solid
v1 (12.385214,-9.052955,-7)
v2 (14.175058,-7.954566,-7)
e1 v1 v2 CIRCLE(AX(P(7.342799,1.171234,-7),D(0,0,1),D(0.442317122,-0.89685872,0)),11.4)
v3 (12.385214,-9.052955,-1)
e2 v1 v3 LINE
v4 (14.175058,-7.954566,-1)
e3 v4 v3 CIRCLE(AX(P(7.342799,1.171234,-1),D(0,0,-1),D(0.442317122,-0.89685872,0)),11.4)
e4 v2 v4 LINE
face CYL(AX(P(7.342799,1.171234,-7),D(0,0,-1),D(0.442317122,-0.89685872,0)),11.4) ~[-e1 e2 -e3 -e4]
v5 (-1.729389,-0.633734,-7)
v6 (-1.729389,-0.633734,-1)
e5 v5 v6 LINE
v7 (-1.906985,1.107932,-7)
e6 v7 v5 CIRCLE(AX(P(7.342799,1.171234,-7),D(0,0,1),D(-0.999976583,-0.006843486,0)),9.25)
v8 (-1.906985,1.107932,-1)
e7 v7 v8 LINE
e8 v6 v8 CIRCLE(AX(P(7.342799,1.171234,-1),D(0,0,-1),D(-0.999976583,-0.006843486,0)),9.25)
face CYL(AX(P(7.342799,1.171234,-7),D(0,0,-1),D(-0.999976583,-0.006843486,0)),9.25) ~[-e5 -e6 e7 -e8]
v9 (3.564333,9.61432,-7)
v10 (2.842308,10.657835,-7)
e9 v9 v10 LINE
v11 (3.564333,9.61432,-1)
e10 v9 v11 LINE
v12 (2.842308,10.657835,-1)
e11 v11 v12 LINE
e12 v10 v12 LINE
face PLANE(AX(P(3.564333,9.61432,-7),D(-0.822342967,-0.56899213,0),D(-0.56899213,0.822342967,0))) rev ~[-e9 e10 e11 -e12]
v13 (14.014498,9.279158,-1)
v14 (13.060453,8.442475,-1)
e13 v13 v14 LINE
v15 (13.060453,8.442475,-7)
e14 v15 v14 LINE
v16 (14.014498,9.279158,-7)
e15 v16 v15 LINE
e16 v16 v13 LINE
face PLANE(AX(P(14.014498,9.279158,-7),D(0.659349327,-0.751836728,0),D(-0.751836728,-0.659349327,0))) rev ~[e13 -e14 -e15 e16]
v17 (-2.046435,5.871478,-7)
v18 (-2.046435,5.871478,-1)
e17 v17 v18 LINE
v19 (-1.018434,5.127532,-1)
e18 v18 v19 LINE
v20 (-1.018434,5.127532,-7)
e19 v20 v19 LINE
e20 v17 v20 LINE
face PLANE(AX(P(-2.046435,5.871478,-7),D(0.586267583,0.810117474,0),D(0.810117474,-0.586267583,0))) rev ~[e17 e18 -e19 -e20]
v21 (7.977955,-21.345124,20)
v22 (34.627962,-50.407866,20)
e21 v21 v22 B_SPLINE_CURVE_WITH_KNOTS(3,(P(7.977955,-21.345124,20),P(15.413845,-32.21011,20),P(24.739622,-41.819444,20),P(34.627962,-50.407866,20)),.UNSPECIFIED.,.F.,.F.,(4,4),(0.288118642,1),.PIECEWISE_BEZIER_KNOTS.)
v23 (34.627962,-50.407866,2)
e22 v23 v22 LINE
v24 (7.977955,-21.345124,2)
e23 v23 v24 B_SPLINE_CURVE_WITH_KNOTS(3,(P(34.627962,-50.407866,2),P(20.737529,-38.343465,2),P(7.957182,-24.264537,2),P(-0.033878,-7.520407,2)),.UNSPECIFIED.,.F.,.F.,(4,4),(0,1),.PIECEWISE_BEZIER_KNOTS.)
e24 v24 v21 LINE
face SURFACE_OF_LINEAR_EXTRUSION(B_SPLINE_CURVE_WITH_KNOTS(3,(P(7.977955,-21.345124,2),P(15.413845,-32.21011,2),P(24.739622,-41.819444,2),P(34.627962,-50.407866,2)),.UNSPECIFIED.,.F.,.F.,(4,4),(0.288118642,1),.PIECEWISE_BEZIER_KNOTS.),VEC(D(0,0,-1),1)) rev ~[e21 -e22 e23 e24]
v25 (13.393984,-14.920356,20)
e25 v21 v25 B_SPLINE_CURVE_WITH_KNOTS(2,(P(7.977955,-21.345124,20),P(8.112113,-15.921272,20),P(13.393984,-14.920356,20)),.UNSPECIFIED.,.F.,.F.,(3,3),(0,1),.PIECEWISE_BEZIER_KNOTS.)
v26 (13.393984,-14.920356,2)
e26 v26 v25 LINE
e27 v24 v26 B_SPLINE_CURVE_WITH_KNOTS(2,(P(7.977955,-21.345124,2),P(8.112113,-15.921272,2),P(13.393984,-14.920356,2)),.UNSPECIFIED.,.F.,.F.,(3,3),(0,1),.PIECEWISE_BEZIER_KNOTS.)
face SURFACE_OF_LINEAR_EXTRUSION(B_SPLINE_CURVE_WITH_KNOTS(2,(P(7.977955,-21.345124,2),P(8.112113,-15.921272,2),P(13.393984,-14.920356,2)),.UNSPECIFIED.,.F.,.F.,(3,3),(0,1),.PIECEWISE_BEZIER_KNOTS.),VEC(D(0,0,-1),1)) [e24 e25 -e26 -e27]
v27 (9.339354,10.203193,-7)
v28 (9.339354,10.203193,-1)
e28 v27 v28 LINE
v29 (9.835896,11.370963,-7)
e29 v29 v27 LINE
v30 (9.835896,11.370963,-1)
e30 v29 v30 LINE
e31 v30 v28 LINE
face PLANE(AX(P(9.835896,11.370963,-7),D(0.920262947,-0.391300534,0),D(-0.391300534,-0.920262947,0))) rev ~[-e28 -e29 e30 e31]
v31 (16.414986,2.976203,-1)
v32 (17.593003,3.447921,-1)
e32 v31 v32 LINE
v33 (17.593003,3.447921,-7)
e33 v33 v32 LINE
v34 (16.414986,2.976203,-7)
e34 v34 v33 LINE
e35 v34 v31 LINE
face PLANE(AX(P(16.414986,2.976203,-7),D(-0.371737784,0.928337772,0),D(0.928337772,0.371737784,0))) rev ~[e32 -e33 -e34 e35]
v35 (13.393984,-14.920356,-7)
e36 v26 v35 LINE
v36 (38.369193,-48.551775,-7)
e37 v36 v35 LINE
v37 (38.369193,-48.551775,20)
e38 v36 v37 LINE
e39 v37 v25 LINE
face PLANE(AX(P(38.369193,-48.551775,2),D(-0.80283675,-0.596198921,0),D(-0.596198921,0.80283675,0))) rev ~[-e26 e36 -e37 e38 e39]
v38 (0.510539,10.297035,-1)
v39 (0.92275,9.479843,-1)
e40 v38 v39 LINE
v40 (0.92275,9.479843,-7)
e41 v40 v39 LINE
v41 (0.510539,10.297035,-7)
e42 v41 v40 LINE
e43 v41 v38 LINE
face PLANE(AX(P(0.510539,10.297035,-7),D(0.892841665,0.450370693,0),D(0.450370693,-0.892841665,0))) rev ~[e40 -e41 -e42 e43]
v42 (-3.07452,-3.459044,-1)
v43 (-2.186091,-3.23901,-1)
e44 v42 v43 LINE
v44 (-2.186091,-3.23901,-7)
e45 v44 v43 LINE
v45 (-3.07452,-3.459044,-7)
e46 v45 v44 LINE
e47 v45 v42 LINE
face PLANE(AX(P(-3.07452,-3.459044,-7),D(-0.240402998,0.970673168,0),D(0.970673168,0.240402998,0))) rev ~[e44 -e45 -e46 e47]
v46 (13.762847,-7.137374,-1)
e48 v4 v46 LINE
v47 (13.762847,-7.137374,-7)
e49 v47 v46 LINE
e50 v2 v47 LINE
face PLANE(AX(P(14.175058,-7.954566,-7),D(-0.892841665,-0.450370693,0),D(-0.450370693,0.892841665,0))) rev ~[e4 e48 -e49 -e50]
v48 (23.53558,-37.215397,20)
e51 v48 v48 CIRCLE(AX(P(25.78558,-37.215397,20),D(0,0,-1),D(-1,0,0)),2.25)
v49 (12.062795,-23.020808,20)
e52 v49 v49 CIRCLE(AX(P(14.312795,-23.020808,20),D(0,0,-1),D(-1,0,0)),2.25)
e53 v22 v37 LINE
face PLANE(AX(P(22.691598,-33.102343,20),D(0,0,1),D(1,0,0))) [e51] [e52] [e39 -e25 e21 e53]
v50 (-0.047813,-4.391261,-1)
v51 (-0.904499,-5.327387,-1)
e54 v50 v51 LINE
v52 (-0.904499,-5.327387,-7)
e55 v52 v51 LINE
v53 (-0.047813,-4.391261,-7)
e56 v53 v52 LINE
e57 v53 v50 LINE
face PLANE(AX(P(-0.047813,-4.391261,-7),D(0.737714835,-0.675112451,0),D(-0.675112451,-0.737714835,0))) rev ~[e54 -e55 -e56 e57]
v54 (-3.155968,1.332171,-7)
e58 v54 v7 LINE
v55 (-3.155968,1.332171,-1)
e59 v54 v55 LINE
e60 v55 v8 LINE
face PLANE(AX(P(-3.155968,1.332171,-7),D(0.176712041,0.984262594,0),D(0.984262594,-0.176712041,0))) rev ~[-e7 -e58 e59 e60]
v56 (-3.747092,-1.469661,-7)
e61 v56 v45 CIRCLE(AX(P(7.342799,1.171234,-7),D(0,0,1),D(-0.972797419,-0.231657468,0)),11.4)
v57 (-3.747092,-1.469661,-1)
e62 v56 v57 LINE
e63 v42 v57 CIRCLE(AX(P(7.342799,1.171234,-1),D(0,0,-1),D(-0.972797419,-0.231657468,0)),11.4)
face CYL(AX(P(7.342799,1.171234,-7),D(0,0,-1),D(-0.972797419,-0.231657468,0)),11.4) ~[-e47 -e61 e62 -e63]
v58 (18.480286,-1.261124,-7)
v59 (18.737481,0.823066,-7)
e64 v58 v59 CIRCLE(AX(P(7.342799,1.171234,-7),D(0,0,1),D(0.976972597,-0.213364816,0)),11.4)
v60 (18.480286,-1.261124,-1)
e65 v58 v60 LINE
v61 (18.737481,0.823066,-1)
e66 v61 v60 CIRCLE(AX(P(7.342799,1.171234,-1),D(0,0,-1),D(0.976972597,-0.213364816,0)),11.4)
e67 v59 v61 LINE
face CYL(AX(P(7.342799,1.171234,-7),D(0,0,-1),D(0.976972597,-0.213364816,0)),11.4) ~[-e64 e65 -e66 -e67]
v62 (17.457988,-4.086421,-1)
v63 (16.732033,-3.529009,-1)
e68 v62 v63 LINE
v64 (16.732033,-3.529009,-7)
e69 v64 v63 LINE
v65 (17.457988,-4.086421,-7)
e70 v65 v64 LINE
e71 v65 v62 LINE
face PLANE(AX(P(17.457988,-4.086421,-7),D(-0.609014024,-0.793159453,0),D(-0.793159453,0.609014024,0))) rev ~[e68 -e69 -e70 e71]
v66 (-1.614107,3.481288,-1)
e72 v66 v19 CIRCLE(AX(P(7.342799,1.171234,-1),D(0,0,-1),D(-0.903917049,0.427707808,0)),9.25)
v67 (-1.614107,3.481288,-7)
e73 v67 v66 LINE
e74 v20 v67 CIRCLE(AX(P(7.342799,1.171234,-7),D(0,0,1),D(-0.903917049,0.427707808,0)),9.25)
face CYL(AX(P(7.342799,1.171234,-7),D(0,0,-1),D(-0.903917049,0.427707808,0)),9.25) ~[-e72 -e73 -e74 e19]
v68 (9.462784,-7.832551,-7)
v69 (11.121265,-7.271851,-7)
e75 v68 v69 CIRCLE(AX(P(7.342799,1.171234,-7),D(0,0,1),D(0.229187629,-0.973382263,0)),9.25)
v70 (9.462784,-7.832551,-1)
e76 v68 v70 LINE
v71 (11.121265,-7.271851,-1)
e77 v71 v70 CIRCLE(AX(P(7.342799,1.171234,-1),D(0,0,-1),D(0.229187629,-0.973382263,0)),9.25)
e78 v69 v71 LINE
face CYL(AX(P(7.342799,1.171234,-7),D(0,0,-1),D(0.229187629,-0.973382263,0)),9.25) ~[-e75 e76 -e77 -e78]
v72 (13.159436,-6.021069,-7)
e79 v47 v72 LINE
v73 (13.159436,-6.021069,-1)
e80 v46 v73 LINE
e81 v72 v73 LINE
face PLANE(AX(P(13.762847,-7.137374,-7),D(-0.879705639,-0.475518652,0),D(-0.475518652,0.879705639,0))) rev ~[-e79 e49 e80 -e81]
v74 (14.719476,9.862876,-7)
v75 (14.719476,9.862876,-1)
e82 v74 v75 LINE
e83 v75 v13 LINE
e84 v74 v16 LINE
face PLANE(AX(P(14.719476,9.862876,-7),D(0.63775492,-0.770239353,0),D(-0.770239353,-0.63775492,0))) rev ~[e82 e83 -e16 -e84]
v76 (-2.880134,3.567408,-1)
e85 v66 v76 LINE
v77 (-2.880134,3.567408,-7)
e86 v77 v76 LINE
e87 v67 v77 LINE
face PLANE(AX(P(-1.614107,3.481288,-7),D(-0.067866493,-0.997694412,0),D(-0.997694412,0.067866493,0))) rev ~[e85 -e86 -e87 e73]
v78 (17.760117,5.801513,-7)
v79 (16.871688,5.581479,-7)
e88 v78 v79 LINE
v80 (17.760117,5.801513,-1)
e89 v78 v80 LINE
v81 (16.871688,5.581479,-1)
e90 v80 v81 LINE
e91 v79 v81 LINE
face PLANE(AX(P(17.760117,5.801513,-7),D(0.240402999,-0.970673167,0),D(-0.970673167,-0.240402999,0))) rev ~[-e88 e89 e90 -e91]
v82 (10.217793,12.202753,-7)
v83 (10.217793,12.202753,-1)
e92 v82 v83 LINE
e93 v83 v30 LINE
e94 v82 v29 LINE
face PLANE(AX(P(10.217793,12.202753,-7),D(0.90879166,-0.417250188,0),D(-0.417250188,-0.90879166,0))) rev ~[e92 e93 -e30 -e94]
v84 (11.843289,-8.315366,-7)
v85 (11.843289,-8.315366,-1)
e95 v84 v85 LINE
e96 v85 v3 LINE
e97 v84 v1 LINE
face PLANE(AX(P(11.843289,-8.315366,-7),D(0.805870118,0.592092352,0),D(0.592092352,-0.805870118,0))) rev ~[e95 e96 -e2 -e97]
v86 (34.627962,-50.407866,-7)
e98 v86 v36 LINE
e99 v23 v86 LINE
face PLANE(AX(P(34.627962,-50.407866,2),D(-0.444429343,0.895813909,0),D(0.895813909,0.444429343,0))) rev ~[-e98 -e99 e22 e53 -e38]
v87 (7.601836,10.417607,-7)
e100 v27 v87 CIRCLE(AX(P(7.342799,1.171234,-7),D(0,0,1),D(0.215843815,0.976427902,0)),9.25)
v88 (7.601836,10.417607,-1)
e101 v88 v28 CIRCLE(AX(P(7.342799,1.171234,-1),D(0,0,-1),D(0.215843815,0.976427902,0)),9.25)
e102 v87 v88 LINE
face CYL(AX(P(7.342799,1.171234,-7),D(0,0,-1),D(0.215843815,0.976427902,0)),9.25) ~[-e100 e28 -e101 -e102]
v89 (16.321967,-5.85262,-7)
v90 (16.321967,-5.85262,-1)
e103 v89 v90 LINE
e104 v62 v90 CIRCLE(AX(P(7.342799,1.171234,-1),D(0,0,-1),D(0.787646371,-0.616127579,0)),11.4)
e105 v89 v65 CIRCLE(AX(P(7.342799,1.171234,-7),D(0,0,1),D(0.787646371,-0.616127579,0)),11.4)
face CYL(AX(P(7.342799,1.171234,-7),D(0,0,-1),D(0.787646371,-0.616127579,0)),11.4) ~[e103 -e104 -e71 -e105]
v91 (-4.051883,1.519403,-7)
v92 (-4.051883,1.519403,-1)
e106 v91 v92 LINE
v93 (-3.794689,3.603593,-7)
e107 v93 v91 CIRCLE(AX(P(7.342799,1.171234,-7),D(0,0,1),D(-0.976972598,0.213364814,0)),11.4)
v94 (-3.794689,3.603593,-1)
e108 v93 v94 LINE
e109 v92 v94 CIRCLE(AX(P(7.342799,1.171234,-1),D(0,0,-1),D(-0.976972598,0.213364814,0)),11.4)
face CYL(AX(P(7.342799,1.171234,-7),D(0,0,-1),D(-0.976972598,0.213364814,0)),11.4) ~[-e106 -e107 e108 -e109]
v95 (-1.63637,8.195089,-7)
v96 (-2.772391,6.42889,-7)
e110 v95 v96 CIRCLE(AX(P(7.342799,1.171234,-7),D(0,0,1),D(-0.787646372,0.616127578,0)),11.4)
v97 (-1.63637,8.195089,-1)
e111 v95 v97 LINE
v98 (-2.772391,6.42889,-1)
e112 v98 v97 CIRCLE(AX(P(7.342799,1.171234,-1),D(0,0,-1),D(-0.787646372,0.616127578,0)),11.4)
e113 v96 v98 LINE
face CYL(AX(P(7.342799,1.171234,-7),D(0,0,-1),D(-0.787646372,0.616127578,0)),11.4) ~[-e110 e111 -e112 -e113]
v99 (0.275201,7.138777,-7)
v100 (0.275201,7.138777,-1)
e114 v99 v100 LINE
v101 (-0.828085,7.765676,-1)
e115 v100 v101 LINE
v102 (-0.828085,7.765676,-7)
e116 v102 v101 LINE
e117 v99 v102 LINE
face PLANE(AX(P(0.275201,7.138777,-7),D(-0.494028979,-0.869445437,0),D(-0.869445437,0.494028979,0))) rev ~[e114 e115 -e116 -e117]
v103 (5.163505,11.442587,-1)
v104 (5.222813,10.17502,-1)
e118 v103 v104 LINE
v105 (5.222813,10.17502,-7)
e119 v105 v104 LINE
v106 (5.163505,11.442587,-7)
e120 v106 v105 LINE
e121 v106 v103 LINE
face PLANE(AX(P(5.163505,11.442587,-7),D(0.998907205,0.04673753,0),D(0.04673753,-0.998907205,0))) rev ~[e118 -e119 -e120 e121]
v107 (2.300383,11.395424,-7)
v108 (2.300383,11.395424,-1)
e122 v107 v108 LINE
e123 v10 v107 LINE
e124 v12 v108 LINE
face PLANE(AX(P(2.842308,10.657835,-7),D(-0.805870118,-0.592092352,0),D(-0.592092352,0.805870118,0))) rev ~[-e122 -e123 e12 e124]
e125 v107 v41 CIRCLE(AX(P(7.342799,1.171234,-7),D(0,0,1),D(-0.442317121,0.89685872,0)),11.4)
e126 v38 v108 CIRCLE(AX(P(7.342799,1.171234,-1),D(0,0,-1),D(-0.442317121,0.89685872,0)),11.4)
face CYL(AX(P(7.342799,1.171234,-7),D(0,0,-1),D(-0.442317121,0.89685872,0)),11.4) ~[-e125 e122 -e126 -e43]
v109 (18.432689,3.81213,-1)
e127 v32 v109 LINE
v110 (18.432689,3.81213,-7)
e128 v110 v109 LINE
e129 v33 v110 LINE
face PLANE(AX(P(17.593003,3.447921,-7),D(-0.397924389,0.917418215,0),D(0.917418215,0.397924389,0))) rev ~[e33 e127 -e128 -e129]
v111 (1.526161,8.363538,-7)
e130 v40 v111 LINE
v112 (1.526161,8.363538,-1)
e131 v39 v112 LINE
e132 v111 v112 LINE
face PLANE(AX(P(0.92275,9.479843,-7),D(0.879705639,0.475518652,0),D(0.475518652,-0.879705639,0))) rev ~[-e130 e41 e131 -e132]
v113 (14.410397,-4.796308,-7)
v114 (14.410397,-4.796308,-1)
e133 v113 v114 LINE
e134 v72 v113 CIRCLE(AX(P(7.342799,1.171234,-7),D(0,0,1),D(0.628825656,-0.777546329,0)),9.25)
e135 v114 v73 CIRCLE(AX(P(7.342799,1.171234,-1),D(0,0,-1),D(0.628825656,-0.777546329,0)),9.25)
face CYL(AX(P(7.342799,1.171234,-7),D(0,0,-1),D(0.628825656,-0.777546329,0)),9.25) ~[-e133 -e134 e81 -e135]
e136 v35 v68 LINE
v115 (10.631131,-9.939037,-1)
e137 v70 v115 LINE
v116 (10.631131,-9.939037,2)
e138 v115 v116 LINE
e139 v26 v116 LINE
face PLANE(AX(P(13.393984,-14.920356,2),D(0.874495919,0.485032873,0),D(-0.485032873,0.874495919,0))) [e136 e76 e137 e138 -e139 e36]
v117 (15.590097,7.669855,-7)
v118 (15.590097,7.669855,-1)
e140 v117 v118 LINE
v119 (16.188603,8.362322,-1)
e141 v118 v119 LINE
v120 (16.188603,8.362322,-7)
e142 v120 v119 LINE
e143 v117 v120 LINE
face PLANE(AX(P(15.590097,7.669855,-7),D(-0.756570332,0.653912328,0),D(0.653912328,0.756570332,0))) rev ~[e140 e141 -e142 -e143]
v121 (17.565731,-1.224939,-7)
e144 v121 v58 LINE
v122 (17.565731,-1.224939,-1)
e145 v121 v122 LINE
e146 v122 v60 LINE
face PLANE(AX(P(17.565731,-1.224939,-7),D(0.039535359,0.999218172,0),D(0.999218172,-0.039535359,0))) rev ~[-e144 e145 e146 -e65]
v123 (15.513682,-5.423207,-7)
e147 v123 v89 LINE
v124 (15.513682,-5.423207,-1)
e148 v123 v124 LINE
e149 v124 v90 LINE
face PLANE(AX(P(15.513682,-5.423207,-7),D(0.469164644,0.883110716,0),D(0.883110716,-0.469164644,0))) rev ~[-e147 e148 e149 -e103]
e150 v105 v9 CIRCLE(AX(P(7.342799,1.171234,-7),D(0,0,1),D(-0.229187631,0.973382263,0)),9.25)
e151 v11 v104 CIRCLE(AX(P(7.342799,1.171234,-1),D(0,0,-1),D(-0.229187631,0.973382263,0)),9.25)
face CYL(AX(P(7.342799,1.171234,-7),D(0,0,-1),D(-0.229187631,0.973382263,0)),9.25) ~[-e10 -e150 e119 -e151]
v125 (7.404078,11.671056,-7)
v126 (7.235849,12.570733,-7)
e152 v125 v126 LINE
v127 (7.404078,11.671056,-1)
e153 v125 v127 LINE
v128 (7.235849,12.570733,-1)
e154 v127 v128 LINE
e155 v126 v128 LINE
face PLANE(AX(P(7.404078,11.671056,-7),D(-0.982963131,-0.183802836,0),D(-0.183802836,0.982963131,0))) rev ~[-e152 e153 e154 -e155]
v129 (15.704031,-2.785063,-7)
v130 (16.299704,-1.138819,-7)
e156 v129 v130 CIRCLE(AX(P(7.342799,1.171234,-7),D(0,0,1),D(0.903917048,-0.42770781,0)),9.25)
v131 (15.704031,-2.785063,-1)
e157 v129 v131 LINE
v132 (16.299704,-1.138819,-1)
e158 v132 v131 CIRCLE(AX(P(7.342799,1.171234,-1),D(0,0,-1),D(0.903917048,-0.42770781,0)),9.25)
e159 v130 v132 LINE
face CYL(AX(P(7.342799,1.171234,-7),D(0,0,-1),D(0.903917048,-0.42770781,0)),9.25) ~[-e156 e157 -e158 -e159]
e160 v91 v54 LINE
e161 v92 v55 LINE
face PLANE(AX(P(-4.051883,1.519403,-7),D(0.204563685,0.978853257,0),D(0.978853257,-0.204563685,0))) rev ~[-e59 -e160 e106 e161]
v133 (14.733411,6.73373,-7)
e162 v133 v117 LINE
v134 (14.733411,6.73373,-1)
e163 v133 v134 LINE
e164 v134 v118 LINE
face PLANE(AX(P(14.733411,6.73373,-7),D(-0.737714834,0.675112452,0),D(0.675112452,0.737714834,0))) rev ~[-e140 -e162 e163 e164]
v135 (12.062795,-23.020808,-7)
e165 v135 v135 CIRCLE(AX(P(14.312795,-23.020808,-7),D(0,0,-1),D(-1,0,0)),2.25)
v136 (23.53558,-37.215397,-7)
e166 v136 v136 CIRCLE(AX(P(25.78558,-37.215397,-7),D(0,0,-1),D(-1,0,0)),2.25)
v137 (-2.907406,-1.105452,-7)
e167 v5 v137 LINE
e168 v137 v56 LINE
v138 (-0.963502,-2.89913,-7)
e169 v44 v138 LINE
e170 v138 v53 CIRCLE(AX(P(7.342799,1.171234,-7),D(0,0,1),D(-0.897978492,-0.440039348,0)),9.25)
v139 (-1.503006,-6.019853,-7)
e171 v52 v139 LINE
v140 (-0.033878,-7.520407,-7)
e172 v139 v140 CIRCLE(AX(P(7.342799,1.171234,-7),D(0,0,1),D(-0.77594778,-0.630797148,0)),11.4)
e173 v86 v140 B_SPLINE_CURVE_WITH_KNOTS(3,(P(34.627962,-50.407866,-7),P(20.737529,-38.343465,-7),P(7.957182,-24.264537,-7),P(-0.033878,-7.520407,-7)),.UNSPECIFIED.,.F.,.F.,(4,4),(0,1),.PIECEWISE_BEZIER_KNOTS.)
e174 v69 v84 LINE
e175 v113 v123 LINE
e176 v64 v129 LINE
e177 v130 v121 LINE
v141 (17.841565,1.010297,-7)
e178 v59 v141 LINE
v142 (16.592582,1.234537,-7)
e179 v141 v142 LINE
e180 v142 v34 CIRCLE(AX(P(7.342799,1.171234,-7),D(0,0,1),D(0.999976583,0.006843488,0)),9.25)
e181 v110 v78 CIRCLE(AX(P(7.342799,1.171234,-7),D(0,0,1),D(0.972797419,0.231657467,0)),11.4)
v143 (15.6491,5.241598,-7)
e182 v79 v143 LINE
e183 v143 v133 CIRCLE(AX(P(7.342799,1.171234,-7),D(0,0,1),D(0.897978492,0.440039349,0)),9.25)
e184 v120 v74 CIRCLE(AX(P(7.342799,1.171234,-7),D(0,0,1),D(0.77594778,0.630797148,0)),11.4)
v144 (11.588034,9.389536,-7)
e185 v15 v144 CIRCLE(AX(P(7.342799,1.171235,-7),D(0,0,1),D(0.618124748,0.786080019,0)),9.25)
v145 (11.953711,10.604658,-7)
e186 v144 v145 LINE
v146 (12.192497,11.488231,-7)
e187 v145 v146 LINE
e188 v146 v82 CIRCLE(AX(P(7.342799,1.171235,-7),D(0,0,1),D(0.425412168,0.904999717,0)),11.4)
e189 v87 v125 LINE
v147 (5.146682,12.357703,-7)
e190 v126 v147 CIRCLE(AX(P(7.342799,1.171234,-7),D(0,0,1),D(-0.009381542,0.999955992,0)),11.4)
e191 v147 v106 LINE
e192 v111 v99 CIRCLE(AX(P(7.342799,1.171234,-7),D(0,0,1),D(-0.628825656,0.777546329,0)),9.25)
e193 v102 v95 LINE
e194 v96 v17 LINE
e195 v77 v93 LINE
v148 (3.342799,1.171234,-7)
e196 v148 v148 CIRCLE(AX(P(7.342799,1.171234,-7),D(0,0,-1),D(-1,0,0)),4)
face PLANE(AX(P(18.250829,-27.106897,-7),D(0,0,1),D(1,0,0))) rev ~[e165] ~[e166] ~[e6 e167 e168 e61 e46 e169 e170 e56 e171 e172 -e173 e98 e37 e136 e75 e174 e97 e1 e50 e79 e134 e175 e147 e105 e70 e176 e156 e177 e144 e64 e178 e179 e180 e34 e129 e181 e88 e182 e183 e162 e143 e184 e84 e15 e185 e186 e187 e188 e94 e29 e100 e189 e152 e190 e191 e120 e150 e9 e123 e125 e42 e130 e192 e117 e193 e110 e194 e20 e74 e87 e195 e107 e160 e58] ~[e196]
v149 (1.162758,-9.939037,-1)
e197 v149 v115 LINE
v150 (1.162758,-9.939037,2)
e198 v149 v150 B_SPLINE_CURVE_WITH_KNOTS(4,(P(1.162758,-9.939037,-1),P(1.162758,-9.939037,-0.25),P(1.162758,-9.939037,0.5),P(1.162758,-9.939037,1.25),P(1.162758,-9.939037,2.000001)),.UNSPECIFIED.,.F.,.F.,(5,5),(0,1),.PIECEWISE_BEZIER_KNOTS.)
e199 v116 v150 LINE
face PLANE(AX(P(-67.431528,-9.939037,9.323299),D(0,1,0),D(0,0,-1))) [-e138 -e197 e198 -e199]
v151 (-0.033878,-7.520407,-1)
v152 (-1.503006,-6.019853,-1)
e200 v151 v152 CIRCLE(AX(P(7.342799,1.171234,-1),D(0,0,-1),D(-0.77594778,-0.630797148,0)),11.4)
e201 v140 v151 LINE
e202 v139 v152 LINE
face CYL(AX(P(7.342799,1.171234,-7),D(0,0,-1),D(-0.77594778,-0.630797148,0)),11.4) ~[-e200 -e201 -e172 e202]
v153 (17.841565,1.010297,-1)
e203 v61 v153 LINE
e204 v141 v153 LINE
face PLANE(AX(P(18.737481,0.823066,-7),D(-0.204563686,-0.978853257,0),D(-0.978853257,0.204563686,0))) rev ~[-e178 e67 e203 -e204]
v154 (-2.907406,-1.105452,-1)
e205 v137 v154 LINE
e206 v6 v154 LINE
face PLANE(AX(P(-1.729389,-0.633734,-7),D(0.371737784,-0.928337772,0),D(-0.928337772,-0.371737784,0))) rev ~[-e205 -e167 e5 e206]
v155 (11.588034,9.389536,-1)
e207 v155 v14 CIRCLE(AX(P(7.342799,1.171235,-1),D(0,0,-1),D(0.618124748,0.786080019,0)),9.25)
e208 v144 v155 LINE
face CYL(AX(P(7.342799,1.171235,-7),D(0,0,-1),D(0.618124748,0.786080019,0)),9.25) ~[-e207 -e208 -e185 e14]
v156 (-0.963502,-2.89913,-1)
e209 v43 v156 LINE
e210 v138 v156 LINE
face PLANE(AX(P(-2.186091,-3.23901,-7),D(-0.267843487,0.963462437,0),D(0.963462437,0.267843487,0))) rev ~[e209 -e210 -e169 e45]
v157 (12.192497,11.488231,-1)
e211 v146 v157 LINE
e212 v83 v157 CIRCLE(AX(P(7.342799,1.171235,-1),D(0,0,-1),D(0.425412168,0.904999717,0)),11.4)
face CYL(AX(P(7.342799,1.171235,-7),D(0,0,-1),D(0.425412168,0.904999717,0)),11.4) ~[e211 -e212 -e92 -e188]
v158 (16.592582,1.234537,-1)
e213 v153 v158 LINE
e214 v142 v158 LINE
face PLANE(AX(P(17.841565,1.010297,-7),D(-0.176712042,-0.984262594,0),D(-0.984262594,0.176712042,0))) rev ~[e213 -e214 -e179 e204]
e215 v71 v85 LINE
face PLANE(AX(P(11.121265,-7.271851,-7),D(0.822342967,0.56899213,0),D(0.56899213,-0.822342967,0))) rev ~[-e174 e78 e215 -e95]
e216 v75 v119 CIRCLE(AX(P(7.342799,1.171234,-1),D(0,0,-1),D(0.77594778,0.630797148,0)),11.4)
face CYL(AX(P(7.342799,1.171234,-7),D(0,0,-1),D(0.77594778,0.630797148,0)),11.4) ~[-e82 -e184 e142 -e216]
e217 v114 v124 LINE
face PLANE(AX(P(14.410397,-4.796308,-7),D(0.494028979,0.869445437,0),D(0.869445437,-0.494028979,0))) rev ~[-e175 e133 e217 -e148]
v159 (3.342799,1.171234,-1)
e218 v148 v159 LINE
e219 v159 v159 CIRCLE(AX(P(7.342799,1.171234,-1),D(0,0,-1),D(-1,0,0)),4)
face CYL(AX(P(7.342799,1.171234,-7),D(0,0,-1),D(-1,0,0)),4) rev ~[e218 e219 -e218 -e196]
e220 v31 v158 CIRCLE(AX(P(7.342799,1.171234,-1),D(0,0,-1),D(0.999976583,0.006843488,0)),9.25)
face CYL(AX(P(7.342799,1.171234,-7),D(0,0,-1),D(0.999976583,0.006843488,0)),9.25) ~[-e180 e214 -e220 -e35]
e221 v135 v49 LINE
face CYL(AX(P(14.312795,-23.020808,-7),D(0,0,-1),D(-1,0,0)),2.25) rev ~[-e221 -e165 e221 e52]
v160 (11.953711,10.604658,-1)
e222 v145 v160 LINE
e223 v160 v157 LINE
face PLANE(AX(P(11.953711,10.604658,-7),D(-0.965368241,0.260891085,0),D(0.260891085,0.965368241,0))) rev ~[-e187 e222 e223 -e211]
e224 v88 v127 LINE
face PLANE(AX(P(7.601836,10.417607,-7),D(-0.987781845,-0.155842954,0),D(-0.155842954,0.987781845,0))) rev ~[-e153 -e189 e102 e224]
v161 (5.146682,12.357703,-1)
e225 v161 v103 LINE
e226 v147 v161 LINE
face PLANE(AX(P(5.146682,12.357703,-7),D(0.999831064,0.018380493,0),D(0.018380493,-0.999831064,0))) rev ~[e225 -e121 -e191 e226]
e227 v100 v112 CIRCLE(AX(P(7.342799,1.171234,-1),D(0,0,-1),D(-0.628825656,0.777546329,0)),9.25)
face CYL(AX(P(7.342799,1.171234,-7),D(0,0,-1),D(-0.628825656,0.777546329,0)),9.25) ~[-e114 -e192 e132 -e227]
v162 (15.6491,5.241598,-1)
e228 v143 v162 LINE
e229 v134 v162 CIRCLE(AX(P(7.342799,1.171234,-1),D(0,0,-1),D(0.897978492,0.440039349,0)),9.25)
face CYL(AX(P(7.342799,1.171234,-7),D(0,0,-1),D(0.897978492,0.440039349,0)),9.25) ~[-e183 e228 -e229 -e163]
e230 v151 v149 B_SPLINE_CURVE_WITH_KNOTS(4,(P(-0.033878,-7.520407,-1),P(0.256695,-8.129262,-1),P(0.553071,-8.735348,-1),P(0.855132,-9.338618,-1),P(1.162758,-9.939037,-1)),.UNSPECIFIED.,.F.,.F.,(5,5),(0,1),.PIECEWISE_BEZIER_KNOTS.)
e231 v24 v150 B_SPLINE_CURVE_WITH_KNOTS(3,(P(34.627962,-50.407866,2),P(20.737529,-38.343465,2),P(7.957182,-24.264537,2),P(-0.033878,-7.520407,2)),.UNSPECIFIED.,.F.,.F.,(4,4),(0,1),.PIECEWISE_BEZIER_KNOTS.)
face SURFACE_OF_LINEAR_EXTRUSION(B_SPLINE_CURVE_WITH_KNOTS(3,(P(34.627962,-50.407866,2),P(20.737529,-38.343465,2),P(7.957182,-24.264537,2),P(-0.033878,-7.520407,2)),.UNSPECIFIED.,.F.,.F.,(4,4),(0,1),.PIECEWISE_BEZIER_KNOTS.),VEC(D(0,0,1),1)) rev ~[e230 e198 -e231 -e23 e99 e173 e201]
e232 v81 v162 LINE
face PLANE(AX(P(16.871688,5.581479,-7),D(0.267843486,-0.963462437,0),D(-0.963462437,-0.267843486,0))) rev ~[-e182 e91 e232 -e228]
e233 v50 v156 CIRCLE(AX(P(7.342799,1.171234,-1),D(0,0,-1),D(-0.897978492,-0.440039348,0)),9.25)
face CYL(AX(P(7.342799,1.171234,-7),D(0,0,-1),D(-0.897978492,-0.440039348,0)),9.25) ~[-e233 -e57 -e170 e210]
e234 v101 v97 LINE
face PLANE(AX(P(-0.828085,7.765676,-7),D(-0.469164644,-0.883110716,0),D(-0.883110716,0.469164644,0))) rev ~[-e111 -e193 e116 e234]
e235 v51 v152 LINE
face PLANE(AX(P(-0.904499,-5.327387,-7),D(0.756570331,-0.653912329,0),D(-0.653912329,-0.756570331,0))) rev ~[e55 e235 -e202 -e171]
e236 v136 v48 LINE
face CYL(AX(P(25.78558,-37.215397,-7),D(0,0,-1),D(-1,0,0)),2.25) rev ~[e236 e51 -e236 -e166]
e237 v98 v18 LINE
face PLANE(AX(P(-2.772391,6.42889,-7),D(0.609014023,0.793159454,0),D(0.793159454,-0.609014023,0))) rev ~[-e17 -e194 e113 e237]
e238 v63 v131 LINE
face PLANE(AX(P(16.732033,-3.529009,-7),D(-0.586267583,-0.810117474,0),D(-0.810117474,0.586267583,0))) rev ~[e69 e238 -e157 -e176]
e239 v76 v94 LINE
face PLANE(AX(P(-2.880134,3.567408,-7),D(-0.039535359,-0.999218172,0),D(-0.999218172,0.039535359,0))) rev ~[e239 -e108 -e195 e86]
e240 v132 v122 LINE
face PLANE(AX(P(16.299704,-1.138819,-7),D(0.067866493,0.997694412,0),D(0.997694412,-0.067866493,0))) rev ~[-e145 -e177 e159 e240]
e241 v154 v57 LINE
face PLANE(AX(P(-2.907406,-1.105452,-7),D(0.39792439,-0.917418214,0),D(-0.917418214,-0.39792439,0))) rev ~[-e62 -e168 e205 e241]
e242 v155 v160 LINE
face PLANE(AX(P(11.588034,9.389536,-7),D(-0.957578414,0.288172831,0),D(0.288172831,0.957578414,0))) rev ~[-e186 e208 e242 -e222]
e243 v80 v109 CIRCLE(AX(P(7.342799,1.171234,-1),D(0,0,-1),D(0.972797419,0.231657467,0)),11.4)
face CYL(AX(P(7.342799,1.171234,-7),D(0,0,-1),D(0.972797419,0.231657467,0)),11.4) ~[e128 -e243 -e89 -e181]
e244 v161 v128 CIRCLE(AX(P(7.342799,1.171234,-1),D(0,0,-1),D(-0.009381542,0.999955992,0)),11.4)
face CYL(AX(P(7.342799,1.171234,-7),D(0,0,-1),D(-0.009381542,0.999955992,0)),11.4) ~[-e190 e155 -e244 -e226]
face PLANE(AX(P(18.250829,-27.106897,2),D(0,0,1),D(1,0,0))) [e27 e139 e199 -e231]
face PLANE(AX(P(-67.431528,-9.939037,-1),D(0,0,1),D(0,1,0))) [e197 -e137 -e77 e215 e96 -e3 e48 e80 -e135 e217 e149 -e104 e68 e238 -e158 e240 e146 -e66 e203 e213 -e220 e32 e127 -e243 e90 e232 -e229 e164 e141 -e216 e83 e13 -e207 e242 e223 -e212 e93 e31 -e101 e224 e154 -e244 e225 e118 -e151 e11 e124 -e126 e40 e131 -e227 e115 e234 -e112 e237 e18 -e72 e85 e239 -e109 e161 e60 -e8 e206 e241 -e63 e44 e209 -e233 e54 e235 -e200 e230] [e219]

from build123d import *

# Parameters (mm, degrees)
BOSS_EXTRUDE1_DEPTH      = 2
BOSS_EXTRUDE1_DEPTH_BACK = 7
BOSS_EXTRUDE3_DEPTH      = 9
SKETCH6_R                = 4
CUT_EXTRUDE1_DEPTH       = 18
BOSS_EXTRUDE4_DEPTH      = 18
SKETCH8_R                = 2.25
CUT_EXTRUDE2_DEPTH       = 69.863255609
CUT_EXTRUDE3_DEPTH       = 67.431528446
CUT_EXTRUDE3_DEPTH_BACK  = 67.431528446
SKETCH9_W                = 10.323299019
SKETCH9_H                = 27.481333942


with BuildPart() as part:
    # Sketch2 → Boss-Extrude1 (new, two sides: drawn at the far end of the back side and taken through both)
    with BuildSketch(Plane.XY.offset(-BOSS_EXTRUDE1_DEPTH_BACK)):
        with BuildLine():
            Line((17.593003447, 3.447921134), (18.432689254, 3.812129579))
            ThreePointArc((18.432689254, 3.812129579), (18.142308848, 4.822341152), (17.760116965, 5.801513031))
            Line((17.760116965, 5.801513031), (16.871688472, 5.581479263))
            Line((16.871688472, 5.581479263), (15.649099733, 5.241598415))
            ThreePointArc((15.649099733, 5.241598415), (15.22663553, 6.009376293), (14.733410626, 6.733729845))
            Line((14.733410626, 6.733729845), (15.590096731, 7.669855443))
            Line((15.590096731, 7.669855443), (16.188603379, 8.362321932))
            ThreePointArc((16.188603379, 8.362321932), (15.488665299, 9.146499772), (14.719475556, 9.862876308))
            Line((14.719475556, 9.862876308), (14.014498216, 9.279158058))
            Line((14.014498216, 9.279158058), (13.060452596, 8.442474621))
            ThreePointArc((13.060452596, 8.442474621), (12.346699165, 8.950918239), (11.588033655, 9.389535972))
            Line((11.588033655, 9.389535972), (11.95371149, 10.604658163))
            Line((11.95371149, 10.604658163), (12.192497398, 11.488231214))
            ThreePointArc((12.192497398, 11.488231214), (11.221632964, 11.891059284), (10.217792822, 12.202753318))
            Line((10.217792822, 12.202753318), (9.835896044, 11.370963143))
            Line((9.835896044, 11.370963143), (9.33935398, 10.203192533))
            ThreePointArc((9.33935398, 10.203192533), (8.475678941, 10.351598396), (7.601835833, 10.417606691))
            Line((7.601835833, 10.417606691), (7.404078418, 11.671055622))
            Line((7.404078418, 11.671055622), (7.235849109, 12.570732756))
            ThreePointArc((7.235849109, 12.570732756), (6.18634993, 12.512426015), (5.14668224, 12.357702722))
            Line((5.14668224, 12.357702722), (5.163505363, 11.442586867))
            Line((5.163505363, 11.442586867), (5.222813101, 10.175020376))
            ThreePointArc((5.222813101, 10.175020376), (4.380277888, 9.933994883), (3.564332526, 9.614319987))
            Line((3.564332526, 9.614319987), (2.842308143, 10.657834724))
            Line((2.842308143, 10.657834724), (2.300383494, 11.395423851))
            ThreePointArc((2.300383494, 11.395423851), (1.380115753, 10.887530665), (0.510539453, 10.297034891))
            Line((0.510539453, 10.297034891), (0.922750452, 9.479843274))
            Line((0.922750452, 9.479843274), (1.526161366, 8.363537991))
            ThreePointArc((1.526161366, 8.363537991), (0.871640411, 7.780819197), (0.275200782, 7.138776643))
            Line((0.275200782, 7.138776643), (-0.828084785, 7.765676295))
            Line((-0.828084785, 7.765676295), (-1.636369952, 8.195088843))
            ThreePointArc((-1.636369952, 8.195088843), (-2.245135941, 7.338203686), (-2.772390602, 6.42889036))
            Line((-2.772390602, 6.42889036), (-2.04643517, 5.871477804))
            Line((-2.04643517, 5.871477804), (-1.018434012, 5.12753168))
            ThreePointArc((-1.018434012, 5.12753168), (-1.355304806, 4.318534189), (-1.61410652, 3.481288379))
            Line((-1.61410652, 3.481288379), (-2.880134034, 3.567407782))
            Line((-2.880134034, 3.567407782), (-3.794688927, 3.603593329))
            ThreePointArc((-3.794688927, 3.603593329), (-3.971379595, 2.567432815), (-4.051883364, 1.519402593))
            Line((-4.051883364, 1.519402593), (-3.155967876, 1.332171491))
            Line((-3.155967876, 1.332171491), (-1.90698471, 1.107932181))
            ThreePointArc((-1.90698471, 1.107932181), (-1.859483953, 0.232887867), (-1.729388897, -0.633734398))
            Line((-1.729388897, -0.633734398), (-2.907406081, -1.105452248))
            Line((-2.907406081, -1.105452248), (-3.747091888, -1.469660694))
            ThreePointArc((-3.747091888, -1.469660694), (-3.456711482, -2.479872267), (-3.0745196, -3.459044145))
            Line((-3.0745196, -3.459044145), (-2.186091107, -3.239010378))
            Line((-2.186091107, -3.239010378), (-0.963502367, -2.899129529))
            ThreePointArc((-0.963502367, -2.899129529), (-0.541038164, -3.666907408), (-0.047813261, -4.391260959))
            Line((-0.047813261, -4.391260959), (-0.904499365, -5.327386558))
            Line((-0.904499365, -5.327386558), (-1.503006014, -6.019853046))
            ThreePointArc((-1.503006014, -6.019853046), (-0.803067933, -6.804030887), (-0.03387819, -7.520407423))
            Line((-0.03387819, -7.520407423), (0.67109915, -6.936689172))
            Line((0.67109915, -6.936689172), (1.625144769, -6.100005735))
            ThreePointArc((1.625144769, -6.100005735), (2.3388982, -6.608449353), (3.097563711, -7.047067087))
            Line((3.097563711, -7.047067087), (2.731885876, -8.262189278))
            Line((2.731885876, -8.262189278), (2.493099968, -9.145762328))
            ThreePointArc((2.493099968, -9.145762328), (3.463964401, -9.548590398), (4.467804544, -9.860284433))
            Line((4.467804544, -9.860284433), (4.849701322, -9.028494257))
            Line((4.849701322, -9.028494257), (5.346243386, -7.860723648))
            ThreePointArc((5.346243386, -7.860723648), (6.209918425, -8.009129511), (7.083761533, -8.075137806))
            Line((7.083761533, -8.075137806), (7.281518948, -9.328586736))
            Line((7.281518948, -9.328586736), (7.449748257, -10.22826387))
            ThreePointArc((7.449748257, -10.22826387), (8.499247436, -10.16995713), (9.538915126, -10.015233837))
            Line((9.538915126, -10.015233837), (9.522092003, -9.100117982))
            Line((9.522092003, -9.100117982), (9.462784265, -7.83255149))
            ThreePointArc((9.462784265, -7.83255149), (10.305319478, -7.591525998), (11.12126484, -7.271851101))
            Line((11.12126484, -7.271851101), (11.843289223, -8.315365839))
            Line((11.843289223, -8.315365839), (12.385213872, -9.052954966))
            ThreePointArc((12.385213872, -9.052954966), (13.305481612, -8.54506178), (14.175057913, -7.954566005))
            Line((14.175057913, -7.954566005), (13.762846914, -7.137374389))
            Line((13.762846914, -7.137374389), (13.159436, -6.021069105))
            ThreePointArc((13.159436, -6.021069105), (13.813956955, -5.438350311), (14.410396584, -4.796307757))
            Line((14.410396584, -4.796307757), (15.513682151, -5.42320741))
            Line((15.513682151, -5.42320741), (16.321967317, -5.852619957))
            ThreePointArc((16.321967317, -5.852619957), (16.930733307, -4.9957348), (17.457987967, -4.086421474))
            Line((17.457987967, -4.086421474), (16.732032536, -3.529008918))
            Line((16.732032536, -3.529008918), (15.704031377, -2.785062794))
            ThreePointArc((15.704031377, -2.785062794), (16.040902172, -1.976065303), (16.299703886, -1.138819493))
            Line((16.299703886, -1.138819493), (17.565731399, -1.224938896))
            Line((17.565731399, -1.224938896), (18.480286292, -1.261124443))
            ThreePointArc((18.480286292, -1.261124443), (18.656976961, -0.22496393), (18.737480729, 0.823066292))
            Line((18.737480729, 0.823066292), (17.841565242, 1.010297394))
            Line((17.841565242, 1.010297394), (16.592582076, 1.234536705))
            ThreePointArc((16.592582076, 1.234536705), (16.545081318, 2.109581019), (16.414986263, 2.976203284))
            Line((16.414986263, 2.976203284), (17.593003447, 3.447921134))
        make_face()
    extrude(amount=BOSS_EXTRUDE1_DEPTH + BOSS_EXTRUDE1_DEPTH_BACK)

    # Sketch5 → Boss-Extrude3 (add)
    with BuildSketch(Plane.XY.offset(2)):
        with BuildLine():
            Line((34.627961915, -50.407866333), (38.369192873, -48.55177457))
            Line((38.369192873, -48.55177457), (13.393984011, -14.920355903))
            Line((13.393984011, -14.920355903), (9.462784265, -7.83255149))
            Line((9.462784265, -7.83255149), (0.865656202, -2.843190202))
            Line((0.865656202, -2.843190202), (-0.03387819, -7.520407423))
            add(Edge.make_bspline(
                [(34.627961915, -50.407866333), (20.737528927, -38.343464696), (7.957182105, -24.264537371), (-0.03387819, -7.520407423)],
                knots=[0, 0, 0, 0, 1, 1, 1, 1], degree=3))
        make_face()
    extrude(amount=-BOSS_EXTRUDE3_DEPTH)

    # Sketch6 → Cut-Extrude1 (cut)
    with BuildSketch(Plane(origin=(0, 0, -7), x_dir=(-1, 0, 0), z_dir=(0, 0, -1))):
        with Locations((-7.342798683, 1.171234443)):
            Circle(SKETCH6_R)
    extrude(amount=-CUT_EXTRUDE1_DEPTH, mode=Mode.SUBTRACT)

    # Sketch7 → Boss-Extrude4 (add)
    with BuildSketch(Plane.XY.offset(2)):
        with BuildLine():
            Line((34.627961915, -50.407866333), (38.369192873, -48.55177457))
            Line((38.369192873, -48.55177457), (13.393984011, -14.920355903))
            add(Edge.make_bspline(
                [(7.977955023, -21.345123668), (8.112113434, -15.921271934), (13.393984011, -14.920355903)],
                knots=[0, 0, 0, 1, 1, 1], degree=2))
            add(Edge.make_bspline(
                [(7.977955023, -21.345123668), (15.413845314, -32.210109704), (24.739621619, -41.819443715), (34.627961915, -50.407866333)],
                knots=[0.288118642, 0.288118642, 0.288118642, 0.288118642, 1, 1, 1, 1], degree=3))
        make_face()
    extrude(amount=BOSS_EXTRUDE4_DEPTH)

    # Sketch8 → Cut-Extrude2 (cut, through all)
    with BuildSketch(Plane(origin=(0, 0, -7), x_dir=(-1, 0, 0), z_dir=(0, 0, -1))):
        with Locations((-14.312794722, -23.020807584)):
            Circle(SKETCH8_R)
        with Locations((-25.785580409, -37.215397344)):
            Circle(SKETCH8_R)
    extrude(amount=-CUT_EXTRUDE2_DEPTH, mode=Mode.SUBTRACT)

    # Sketch9 → Cut-Extrude3 (cut, two sides: drawn at the far end of the back side and taken through both)
    with BuildSketch(Plane(origin=(0, 0, 0), x_dir=(0, 0, -1), z_dir=(1, 0, 0)).offset(-CUT_EXTRUDE3_DEPTH_BACK)):
        with Locations((-4.16164951, 3.801629666)):
            Rectangle(SKETCH9_W, SKETCH9_H)
    extrude(amount=CUT_EXTRUDE3_DEPTH + CUT_EXTRUDE3_DEPTH_BACK, mode=Mode.SUBTRACT)


solid = part.part
